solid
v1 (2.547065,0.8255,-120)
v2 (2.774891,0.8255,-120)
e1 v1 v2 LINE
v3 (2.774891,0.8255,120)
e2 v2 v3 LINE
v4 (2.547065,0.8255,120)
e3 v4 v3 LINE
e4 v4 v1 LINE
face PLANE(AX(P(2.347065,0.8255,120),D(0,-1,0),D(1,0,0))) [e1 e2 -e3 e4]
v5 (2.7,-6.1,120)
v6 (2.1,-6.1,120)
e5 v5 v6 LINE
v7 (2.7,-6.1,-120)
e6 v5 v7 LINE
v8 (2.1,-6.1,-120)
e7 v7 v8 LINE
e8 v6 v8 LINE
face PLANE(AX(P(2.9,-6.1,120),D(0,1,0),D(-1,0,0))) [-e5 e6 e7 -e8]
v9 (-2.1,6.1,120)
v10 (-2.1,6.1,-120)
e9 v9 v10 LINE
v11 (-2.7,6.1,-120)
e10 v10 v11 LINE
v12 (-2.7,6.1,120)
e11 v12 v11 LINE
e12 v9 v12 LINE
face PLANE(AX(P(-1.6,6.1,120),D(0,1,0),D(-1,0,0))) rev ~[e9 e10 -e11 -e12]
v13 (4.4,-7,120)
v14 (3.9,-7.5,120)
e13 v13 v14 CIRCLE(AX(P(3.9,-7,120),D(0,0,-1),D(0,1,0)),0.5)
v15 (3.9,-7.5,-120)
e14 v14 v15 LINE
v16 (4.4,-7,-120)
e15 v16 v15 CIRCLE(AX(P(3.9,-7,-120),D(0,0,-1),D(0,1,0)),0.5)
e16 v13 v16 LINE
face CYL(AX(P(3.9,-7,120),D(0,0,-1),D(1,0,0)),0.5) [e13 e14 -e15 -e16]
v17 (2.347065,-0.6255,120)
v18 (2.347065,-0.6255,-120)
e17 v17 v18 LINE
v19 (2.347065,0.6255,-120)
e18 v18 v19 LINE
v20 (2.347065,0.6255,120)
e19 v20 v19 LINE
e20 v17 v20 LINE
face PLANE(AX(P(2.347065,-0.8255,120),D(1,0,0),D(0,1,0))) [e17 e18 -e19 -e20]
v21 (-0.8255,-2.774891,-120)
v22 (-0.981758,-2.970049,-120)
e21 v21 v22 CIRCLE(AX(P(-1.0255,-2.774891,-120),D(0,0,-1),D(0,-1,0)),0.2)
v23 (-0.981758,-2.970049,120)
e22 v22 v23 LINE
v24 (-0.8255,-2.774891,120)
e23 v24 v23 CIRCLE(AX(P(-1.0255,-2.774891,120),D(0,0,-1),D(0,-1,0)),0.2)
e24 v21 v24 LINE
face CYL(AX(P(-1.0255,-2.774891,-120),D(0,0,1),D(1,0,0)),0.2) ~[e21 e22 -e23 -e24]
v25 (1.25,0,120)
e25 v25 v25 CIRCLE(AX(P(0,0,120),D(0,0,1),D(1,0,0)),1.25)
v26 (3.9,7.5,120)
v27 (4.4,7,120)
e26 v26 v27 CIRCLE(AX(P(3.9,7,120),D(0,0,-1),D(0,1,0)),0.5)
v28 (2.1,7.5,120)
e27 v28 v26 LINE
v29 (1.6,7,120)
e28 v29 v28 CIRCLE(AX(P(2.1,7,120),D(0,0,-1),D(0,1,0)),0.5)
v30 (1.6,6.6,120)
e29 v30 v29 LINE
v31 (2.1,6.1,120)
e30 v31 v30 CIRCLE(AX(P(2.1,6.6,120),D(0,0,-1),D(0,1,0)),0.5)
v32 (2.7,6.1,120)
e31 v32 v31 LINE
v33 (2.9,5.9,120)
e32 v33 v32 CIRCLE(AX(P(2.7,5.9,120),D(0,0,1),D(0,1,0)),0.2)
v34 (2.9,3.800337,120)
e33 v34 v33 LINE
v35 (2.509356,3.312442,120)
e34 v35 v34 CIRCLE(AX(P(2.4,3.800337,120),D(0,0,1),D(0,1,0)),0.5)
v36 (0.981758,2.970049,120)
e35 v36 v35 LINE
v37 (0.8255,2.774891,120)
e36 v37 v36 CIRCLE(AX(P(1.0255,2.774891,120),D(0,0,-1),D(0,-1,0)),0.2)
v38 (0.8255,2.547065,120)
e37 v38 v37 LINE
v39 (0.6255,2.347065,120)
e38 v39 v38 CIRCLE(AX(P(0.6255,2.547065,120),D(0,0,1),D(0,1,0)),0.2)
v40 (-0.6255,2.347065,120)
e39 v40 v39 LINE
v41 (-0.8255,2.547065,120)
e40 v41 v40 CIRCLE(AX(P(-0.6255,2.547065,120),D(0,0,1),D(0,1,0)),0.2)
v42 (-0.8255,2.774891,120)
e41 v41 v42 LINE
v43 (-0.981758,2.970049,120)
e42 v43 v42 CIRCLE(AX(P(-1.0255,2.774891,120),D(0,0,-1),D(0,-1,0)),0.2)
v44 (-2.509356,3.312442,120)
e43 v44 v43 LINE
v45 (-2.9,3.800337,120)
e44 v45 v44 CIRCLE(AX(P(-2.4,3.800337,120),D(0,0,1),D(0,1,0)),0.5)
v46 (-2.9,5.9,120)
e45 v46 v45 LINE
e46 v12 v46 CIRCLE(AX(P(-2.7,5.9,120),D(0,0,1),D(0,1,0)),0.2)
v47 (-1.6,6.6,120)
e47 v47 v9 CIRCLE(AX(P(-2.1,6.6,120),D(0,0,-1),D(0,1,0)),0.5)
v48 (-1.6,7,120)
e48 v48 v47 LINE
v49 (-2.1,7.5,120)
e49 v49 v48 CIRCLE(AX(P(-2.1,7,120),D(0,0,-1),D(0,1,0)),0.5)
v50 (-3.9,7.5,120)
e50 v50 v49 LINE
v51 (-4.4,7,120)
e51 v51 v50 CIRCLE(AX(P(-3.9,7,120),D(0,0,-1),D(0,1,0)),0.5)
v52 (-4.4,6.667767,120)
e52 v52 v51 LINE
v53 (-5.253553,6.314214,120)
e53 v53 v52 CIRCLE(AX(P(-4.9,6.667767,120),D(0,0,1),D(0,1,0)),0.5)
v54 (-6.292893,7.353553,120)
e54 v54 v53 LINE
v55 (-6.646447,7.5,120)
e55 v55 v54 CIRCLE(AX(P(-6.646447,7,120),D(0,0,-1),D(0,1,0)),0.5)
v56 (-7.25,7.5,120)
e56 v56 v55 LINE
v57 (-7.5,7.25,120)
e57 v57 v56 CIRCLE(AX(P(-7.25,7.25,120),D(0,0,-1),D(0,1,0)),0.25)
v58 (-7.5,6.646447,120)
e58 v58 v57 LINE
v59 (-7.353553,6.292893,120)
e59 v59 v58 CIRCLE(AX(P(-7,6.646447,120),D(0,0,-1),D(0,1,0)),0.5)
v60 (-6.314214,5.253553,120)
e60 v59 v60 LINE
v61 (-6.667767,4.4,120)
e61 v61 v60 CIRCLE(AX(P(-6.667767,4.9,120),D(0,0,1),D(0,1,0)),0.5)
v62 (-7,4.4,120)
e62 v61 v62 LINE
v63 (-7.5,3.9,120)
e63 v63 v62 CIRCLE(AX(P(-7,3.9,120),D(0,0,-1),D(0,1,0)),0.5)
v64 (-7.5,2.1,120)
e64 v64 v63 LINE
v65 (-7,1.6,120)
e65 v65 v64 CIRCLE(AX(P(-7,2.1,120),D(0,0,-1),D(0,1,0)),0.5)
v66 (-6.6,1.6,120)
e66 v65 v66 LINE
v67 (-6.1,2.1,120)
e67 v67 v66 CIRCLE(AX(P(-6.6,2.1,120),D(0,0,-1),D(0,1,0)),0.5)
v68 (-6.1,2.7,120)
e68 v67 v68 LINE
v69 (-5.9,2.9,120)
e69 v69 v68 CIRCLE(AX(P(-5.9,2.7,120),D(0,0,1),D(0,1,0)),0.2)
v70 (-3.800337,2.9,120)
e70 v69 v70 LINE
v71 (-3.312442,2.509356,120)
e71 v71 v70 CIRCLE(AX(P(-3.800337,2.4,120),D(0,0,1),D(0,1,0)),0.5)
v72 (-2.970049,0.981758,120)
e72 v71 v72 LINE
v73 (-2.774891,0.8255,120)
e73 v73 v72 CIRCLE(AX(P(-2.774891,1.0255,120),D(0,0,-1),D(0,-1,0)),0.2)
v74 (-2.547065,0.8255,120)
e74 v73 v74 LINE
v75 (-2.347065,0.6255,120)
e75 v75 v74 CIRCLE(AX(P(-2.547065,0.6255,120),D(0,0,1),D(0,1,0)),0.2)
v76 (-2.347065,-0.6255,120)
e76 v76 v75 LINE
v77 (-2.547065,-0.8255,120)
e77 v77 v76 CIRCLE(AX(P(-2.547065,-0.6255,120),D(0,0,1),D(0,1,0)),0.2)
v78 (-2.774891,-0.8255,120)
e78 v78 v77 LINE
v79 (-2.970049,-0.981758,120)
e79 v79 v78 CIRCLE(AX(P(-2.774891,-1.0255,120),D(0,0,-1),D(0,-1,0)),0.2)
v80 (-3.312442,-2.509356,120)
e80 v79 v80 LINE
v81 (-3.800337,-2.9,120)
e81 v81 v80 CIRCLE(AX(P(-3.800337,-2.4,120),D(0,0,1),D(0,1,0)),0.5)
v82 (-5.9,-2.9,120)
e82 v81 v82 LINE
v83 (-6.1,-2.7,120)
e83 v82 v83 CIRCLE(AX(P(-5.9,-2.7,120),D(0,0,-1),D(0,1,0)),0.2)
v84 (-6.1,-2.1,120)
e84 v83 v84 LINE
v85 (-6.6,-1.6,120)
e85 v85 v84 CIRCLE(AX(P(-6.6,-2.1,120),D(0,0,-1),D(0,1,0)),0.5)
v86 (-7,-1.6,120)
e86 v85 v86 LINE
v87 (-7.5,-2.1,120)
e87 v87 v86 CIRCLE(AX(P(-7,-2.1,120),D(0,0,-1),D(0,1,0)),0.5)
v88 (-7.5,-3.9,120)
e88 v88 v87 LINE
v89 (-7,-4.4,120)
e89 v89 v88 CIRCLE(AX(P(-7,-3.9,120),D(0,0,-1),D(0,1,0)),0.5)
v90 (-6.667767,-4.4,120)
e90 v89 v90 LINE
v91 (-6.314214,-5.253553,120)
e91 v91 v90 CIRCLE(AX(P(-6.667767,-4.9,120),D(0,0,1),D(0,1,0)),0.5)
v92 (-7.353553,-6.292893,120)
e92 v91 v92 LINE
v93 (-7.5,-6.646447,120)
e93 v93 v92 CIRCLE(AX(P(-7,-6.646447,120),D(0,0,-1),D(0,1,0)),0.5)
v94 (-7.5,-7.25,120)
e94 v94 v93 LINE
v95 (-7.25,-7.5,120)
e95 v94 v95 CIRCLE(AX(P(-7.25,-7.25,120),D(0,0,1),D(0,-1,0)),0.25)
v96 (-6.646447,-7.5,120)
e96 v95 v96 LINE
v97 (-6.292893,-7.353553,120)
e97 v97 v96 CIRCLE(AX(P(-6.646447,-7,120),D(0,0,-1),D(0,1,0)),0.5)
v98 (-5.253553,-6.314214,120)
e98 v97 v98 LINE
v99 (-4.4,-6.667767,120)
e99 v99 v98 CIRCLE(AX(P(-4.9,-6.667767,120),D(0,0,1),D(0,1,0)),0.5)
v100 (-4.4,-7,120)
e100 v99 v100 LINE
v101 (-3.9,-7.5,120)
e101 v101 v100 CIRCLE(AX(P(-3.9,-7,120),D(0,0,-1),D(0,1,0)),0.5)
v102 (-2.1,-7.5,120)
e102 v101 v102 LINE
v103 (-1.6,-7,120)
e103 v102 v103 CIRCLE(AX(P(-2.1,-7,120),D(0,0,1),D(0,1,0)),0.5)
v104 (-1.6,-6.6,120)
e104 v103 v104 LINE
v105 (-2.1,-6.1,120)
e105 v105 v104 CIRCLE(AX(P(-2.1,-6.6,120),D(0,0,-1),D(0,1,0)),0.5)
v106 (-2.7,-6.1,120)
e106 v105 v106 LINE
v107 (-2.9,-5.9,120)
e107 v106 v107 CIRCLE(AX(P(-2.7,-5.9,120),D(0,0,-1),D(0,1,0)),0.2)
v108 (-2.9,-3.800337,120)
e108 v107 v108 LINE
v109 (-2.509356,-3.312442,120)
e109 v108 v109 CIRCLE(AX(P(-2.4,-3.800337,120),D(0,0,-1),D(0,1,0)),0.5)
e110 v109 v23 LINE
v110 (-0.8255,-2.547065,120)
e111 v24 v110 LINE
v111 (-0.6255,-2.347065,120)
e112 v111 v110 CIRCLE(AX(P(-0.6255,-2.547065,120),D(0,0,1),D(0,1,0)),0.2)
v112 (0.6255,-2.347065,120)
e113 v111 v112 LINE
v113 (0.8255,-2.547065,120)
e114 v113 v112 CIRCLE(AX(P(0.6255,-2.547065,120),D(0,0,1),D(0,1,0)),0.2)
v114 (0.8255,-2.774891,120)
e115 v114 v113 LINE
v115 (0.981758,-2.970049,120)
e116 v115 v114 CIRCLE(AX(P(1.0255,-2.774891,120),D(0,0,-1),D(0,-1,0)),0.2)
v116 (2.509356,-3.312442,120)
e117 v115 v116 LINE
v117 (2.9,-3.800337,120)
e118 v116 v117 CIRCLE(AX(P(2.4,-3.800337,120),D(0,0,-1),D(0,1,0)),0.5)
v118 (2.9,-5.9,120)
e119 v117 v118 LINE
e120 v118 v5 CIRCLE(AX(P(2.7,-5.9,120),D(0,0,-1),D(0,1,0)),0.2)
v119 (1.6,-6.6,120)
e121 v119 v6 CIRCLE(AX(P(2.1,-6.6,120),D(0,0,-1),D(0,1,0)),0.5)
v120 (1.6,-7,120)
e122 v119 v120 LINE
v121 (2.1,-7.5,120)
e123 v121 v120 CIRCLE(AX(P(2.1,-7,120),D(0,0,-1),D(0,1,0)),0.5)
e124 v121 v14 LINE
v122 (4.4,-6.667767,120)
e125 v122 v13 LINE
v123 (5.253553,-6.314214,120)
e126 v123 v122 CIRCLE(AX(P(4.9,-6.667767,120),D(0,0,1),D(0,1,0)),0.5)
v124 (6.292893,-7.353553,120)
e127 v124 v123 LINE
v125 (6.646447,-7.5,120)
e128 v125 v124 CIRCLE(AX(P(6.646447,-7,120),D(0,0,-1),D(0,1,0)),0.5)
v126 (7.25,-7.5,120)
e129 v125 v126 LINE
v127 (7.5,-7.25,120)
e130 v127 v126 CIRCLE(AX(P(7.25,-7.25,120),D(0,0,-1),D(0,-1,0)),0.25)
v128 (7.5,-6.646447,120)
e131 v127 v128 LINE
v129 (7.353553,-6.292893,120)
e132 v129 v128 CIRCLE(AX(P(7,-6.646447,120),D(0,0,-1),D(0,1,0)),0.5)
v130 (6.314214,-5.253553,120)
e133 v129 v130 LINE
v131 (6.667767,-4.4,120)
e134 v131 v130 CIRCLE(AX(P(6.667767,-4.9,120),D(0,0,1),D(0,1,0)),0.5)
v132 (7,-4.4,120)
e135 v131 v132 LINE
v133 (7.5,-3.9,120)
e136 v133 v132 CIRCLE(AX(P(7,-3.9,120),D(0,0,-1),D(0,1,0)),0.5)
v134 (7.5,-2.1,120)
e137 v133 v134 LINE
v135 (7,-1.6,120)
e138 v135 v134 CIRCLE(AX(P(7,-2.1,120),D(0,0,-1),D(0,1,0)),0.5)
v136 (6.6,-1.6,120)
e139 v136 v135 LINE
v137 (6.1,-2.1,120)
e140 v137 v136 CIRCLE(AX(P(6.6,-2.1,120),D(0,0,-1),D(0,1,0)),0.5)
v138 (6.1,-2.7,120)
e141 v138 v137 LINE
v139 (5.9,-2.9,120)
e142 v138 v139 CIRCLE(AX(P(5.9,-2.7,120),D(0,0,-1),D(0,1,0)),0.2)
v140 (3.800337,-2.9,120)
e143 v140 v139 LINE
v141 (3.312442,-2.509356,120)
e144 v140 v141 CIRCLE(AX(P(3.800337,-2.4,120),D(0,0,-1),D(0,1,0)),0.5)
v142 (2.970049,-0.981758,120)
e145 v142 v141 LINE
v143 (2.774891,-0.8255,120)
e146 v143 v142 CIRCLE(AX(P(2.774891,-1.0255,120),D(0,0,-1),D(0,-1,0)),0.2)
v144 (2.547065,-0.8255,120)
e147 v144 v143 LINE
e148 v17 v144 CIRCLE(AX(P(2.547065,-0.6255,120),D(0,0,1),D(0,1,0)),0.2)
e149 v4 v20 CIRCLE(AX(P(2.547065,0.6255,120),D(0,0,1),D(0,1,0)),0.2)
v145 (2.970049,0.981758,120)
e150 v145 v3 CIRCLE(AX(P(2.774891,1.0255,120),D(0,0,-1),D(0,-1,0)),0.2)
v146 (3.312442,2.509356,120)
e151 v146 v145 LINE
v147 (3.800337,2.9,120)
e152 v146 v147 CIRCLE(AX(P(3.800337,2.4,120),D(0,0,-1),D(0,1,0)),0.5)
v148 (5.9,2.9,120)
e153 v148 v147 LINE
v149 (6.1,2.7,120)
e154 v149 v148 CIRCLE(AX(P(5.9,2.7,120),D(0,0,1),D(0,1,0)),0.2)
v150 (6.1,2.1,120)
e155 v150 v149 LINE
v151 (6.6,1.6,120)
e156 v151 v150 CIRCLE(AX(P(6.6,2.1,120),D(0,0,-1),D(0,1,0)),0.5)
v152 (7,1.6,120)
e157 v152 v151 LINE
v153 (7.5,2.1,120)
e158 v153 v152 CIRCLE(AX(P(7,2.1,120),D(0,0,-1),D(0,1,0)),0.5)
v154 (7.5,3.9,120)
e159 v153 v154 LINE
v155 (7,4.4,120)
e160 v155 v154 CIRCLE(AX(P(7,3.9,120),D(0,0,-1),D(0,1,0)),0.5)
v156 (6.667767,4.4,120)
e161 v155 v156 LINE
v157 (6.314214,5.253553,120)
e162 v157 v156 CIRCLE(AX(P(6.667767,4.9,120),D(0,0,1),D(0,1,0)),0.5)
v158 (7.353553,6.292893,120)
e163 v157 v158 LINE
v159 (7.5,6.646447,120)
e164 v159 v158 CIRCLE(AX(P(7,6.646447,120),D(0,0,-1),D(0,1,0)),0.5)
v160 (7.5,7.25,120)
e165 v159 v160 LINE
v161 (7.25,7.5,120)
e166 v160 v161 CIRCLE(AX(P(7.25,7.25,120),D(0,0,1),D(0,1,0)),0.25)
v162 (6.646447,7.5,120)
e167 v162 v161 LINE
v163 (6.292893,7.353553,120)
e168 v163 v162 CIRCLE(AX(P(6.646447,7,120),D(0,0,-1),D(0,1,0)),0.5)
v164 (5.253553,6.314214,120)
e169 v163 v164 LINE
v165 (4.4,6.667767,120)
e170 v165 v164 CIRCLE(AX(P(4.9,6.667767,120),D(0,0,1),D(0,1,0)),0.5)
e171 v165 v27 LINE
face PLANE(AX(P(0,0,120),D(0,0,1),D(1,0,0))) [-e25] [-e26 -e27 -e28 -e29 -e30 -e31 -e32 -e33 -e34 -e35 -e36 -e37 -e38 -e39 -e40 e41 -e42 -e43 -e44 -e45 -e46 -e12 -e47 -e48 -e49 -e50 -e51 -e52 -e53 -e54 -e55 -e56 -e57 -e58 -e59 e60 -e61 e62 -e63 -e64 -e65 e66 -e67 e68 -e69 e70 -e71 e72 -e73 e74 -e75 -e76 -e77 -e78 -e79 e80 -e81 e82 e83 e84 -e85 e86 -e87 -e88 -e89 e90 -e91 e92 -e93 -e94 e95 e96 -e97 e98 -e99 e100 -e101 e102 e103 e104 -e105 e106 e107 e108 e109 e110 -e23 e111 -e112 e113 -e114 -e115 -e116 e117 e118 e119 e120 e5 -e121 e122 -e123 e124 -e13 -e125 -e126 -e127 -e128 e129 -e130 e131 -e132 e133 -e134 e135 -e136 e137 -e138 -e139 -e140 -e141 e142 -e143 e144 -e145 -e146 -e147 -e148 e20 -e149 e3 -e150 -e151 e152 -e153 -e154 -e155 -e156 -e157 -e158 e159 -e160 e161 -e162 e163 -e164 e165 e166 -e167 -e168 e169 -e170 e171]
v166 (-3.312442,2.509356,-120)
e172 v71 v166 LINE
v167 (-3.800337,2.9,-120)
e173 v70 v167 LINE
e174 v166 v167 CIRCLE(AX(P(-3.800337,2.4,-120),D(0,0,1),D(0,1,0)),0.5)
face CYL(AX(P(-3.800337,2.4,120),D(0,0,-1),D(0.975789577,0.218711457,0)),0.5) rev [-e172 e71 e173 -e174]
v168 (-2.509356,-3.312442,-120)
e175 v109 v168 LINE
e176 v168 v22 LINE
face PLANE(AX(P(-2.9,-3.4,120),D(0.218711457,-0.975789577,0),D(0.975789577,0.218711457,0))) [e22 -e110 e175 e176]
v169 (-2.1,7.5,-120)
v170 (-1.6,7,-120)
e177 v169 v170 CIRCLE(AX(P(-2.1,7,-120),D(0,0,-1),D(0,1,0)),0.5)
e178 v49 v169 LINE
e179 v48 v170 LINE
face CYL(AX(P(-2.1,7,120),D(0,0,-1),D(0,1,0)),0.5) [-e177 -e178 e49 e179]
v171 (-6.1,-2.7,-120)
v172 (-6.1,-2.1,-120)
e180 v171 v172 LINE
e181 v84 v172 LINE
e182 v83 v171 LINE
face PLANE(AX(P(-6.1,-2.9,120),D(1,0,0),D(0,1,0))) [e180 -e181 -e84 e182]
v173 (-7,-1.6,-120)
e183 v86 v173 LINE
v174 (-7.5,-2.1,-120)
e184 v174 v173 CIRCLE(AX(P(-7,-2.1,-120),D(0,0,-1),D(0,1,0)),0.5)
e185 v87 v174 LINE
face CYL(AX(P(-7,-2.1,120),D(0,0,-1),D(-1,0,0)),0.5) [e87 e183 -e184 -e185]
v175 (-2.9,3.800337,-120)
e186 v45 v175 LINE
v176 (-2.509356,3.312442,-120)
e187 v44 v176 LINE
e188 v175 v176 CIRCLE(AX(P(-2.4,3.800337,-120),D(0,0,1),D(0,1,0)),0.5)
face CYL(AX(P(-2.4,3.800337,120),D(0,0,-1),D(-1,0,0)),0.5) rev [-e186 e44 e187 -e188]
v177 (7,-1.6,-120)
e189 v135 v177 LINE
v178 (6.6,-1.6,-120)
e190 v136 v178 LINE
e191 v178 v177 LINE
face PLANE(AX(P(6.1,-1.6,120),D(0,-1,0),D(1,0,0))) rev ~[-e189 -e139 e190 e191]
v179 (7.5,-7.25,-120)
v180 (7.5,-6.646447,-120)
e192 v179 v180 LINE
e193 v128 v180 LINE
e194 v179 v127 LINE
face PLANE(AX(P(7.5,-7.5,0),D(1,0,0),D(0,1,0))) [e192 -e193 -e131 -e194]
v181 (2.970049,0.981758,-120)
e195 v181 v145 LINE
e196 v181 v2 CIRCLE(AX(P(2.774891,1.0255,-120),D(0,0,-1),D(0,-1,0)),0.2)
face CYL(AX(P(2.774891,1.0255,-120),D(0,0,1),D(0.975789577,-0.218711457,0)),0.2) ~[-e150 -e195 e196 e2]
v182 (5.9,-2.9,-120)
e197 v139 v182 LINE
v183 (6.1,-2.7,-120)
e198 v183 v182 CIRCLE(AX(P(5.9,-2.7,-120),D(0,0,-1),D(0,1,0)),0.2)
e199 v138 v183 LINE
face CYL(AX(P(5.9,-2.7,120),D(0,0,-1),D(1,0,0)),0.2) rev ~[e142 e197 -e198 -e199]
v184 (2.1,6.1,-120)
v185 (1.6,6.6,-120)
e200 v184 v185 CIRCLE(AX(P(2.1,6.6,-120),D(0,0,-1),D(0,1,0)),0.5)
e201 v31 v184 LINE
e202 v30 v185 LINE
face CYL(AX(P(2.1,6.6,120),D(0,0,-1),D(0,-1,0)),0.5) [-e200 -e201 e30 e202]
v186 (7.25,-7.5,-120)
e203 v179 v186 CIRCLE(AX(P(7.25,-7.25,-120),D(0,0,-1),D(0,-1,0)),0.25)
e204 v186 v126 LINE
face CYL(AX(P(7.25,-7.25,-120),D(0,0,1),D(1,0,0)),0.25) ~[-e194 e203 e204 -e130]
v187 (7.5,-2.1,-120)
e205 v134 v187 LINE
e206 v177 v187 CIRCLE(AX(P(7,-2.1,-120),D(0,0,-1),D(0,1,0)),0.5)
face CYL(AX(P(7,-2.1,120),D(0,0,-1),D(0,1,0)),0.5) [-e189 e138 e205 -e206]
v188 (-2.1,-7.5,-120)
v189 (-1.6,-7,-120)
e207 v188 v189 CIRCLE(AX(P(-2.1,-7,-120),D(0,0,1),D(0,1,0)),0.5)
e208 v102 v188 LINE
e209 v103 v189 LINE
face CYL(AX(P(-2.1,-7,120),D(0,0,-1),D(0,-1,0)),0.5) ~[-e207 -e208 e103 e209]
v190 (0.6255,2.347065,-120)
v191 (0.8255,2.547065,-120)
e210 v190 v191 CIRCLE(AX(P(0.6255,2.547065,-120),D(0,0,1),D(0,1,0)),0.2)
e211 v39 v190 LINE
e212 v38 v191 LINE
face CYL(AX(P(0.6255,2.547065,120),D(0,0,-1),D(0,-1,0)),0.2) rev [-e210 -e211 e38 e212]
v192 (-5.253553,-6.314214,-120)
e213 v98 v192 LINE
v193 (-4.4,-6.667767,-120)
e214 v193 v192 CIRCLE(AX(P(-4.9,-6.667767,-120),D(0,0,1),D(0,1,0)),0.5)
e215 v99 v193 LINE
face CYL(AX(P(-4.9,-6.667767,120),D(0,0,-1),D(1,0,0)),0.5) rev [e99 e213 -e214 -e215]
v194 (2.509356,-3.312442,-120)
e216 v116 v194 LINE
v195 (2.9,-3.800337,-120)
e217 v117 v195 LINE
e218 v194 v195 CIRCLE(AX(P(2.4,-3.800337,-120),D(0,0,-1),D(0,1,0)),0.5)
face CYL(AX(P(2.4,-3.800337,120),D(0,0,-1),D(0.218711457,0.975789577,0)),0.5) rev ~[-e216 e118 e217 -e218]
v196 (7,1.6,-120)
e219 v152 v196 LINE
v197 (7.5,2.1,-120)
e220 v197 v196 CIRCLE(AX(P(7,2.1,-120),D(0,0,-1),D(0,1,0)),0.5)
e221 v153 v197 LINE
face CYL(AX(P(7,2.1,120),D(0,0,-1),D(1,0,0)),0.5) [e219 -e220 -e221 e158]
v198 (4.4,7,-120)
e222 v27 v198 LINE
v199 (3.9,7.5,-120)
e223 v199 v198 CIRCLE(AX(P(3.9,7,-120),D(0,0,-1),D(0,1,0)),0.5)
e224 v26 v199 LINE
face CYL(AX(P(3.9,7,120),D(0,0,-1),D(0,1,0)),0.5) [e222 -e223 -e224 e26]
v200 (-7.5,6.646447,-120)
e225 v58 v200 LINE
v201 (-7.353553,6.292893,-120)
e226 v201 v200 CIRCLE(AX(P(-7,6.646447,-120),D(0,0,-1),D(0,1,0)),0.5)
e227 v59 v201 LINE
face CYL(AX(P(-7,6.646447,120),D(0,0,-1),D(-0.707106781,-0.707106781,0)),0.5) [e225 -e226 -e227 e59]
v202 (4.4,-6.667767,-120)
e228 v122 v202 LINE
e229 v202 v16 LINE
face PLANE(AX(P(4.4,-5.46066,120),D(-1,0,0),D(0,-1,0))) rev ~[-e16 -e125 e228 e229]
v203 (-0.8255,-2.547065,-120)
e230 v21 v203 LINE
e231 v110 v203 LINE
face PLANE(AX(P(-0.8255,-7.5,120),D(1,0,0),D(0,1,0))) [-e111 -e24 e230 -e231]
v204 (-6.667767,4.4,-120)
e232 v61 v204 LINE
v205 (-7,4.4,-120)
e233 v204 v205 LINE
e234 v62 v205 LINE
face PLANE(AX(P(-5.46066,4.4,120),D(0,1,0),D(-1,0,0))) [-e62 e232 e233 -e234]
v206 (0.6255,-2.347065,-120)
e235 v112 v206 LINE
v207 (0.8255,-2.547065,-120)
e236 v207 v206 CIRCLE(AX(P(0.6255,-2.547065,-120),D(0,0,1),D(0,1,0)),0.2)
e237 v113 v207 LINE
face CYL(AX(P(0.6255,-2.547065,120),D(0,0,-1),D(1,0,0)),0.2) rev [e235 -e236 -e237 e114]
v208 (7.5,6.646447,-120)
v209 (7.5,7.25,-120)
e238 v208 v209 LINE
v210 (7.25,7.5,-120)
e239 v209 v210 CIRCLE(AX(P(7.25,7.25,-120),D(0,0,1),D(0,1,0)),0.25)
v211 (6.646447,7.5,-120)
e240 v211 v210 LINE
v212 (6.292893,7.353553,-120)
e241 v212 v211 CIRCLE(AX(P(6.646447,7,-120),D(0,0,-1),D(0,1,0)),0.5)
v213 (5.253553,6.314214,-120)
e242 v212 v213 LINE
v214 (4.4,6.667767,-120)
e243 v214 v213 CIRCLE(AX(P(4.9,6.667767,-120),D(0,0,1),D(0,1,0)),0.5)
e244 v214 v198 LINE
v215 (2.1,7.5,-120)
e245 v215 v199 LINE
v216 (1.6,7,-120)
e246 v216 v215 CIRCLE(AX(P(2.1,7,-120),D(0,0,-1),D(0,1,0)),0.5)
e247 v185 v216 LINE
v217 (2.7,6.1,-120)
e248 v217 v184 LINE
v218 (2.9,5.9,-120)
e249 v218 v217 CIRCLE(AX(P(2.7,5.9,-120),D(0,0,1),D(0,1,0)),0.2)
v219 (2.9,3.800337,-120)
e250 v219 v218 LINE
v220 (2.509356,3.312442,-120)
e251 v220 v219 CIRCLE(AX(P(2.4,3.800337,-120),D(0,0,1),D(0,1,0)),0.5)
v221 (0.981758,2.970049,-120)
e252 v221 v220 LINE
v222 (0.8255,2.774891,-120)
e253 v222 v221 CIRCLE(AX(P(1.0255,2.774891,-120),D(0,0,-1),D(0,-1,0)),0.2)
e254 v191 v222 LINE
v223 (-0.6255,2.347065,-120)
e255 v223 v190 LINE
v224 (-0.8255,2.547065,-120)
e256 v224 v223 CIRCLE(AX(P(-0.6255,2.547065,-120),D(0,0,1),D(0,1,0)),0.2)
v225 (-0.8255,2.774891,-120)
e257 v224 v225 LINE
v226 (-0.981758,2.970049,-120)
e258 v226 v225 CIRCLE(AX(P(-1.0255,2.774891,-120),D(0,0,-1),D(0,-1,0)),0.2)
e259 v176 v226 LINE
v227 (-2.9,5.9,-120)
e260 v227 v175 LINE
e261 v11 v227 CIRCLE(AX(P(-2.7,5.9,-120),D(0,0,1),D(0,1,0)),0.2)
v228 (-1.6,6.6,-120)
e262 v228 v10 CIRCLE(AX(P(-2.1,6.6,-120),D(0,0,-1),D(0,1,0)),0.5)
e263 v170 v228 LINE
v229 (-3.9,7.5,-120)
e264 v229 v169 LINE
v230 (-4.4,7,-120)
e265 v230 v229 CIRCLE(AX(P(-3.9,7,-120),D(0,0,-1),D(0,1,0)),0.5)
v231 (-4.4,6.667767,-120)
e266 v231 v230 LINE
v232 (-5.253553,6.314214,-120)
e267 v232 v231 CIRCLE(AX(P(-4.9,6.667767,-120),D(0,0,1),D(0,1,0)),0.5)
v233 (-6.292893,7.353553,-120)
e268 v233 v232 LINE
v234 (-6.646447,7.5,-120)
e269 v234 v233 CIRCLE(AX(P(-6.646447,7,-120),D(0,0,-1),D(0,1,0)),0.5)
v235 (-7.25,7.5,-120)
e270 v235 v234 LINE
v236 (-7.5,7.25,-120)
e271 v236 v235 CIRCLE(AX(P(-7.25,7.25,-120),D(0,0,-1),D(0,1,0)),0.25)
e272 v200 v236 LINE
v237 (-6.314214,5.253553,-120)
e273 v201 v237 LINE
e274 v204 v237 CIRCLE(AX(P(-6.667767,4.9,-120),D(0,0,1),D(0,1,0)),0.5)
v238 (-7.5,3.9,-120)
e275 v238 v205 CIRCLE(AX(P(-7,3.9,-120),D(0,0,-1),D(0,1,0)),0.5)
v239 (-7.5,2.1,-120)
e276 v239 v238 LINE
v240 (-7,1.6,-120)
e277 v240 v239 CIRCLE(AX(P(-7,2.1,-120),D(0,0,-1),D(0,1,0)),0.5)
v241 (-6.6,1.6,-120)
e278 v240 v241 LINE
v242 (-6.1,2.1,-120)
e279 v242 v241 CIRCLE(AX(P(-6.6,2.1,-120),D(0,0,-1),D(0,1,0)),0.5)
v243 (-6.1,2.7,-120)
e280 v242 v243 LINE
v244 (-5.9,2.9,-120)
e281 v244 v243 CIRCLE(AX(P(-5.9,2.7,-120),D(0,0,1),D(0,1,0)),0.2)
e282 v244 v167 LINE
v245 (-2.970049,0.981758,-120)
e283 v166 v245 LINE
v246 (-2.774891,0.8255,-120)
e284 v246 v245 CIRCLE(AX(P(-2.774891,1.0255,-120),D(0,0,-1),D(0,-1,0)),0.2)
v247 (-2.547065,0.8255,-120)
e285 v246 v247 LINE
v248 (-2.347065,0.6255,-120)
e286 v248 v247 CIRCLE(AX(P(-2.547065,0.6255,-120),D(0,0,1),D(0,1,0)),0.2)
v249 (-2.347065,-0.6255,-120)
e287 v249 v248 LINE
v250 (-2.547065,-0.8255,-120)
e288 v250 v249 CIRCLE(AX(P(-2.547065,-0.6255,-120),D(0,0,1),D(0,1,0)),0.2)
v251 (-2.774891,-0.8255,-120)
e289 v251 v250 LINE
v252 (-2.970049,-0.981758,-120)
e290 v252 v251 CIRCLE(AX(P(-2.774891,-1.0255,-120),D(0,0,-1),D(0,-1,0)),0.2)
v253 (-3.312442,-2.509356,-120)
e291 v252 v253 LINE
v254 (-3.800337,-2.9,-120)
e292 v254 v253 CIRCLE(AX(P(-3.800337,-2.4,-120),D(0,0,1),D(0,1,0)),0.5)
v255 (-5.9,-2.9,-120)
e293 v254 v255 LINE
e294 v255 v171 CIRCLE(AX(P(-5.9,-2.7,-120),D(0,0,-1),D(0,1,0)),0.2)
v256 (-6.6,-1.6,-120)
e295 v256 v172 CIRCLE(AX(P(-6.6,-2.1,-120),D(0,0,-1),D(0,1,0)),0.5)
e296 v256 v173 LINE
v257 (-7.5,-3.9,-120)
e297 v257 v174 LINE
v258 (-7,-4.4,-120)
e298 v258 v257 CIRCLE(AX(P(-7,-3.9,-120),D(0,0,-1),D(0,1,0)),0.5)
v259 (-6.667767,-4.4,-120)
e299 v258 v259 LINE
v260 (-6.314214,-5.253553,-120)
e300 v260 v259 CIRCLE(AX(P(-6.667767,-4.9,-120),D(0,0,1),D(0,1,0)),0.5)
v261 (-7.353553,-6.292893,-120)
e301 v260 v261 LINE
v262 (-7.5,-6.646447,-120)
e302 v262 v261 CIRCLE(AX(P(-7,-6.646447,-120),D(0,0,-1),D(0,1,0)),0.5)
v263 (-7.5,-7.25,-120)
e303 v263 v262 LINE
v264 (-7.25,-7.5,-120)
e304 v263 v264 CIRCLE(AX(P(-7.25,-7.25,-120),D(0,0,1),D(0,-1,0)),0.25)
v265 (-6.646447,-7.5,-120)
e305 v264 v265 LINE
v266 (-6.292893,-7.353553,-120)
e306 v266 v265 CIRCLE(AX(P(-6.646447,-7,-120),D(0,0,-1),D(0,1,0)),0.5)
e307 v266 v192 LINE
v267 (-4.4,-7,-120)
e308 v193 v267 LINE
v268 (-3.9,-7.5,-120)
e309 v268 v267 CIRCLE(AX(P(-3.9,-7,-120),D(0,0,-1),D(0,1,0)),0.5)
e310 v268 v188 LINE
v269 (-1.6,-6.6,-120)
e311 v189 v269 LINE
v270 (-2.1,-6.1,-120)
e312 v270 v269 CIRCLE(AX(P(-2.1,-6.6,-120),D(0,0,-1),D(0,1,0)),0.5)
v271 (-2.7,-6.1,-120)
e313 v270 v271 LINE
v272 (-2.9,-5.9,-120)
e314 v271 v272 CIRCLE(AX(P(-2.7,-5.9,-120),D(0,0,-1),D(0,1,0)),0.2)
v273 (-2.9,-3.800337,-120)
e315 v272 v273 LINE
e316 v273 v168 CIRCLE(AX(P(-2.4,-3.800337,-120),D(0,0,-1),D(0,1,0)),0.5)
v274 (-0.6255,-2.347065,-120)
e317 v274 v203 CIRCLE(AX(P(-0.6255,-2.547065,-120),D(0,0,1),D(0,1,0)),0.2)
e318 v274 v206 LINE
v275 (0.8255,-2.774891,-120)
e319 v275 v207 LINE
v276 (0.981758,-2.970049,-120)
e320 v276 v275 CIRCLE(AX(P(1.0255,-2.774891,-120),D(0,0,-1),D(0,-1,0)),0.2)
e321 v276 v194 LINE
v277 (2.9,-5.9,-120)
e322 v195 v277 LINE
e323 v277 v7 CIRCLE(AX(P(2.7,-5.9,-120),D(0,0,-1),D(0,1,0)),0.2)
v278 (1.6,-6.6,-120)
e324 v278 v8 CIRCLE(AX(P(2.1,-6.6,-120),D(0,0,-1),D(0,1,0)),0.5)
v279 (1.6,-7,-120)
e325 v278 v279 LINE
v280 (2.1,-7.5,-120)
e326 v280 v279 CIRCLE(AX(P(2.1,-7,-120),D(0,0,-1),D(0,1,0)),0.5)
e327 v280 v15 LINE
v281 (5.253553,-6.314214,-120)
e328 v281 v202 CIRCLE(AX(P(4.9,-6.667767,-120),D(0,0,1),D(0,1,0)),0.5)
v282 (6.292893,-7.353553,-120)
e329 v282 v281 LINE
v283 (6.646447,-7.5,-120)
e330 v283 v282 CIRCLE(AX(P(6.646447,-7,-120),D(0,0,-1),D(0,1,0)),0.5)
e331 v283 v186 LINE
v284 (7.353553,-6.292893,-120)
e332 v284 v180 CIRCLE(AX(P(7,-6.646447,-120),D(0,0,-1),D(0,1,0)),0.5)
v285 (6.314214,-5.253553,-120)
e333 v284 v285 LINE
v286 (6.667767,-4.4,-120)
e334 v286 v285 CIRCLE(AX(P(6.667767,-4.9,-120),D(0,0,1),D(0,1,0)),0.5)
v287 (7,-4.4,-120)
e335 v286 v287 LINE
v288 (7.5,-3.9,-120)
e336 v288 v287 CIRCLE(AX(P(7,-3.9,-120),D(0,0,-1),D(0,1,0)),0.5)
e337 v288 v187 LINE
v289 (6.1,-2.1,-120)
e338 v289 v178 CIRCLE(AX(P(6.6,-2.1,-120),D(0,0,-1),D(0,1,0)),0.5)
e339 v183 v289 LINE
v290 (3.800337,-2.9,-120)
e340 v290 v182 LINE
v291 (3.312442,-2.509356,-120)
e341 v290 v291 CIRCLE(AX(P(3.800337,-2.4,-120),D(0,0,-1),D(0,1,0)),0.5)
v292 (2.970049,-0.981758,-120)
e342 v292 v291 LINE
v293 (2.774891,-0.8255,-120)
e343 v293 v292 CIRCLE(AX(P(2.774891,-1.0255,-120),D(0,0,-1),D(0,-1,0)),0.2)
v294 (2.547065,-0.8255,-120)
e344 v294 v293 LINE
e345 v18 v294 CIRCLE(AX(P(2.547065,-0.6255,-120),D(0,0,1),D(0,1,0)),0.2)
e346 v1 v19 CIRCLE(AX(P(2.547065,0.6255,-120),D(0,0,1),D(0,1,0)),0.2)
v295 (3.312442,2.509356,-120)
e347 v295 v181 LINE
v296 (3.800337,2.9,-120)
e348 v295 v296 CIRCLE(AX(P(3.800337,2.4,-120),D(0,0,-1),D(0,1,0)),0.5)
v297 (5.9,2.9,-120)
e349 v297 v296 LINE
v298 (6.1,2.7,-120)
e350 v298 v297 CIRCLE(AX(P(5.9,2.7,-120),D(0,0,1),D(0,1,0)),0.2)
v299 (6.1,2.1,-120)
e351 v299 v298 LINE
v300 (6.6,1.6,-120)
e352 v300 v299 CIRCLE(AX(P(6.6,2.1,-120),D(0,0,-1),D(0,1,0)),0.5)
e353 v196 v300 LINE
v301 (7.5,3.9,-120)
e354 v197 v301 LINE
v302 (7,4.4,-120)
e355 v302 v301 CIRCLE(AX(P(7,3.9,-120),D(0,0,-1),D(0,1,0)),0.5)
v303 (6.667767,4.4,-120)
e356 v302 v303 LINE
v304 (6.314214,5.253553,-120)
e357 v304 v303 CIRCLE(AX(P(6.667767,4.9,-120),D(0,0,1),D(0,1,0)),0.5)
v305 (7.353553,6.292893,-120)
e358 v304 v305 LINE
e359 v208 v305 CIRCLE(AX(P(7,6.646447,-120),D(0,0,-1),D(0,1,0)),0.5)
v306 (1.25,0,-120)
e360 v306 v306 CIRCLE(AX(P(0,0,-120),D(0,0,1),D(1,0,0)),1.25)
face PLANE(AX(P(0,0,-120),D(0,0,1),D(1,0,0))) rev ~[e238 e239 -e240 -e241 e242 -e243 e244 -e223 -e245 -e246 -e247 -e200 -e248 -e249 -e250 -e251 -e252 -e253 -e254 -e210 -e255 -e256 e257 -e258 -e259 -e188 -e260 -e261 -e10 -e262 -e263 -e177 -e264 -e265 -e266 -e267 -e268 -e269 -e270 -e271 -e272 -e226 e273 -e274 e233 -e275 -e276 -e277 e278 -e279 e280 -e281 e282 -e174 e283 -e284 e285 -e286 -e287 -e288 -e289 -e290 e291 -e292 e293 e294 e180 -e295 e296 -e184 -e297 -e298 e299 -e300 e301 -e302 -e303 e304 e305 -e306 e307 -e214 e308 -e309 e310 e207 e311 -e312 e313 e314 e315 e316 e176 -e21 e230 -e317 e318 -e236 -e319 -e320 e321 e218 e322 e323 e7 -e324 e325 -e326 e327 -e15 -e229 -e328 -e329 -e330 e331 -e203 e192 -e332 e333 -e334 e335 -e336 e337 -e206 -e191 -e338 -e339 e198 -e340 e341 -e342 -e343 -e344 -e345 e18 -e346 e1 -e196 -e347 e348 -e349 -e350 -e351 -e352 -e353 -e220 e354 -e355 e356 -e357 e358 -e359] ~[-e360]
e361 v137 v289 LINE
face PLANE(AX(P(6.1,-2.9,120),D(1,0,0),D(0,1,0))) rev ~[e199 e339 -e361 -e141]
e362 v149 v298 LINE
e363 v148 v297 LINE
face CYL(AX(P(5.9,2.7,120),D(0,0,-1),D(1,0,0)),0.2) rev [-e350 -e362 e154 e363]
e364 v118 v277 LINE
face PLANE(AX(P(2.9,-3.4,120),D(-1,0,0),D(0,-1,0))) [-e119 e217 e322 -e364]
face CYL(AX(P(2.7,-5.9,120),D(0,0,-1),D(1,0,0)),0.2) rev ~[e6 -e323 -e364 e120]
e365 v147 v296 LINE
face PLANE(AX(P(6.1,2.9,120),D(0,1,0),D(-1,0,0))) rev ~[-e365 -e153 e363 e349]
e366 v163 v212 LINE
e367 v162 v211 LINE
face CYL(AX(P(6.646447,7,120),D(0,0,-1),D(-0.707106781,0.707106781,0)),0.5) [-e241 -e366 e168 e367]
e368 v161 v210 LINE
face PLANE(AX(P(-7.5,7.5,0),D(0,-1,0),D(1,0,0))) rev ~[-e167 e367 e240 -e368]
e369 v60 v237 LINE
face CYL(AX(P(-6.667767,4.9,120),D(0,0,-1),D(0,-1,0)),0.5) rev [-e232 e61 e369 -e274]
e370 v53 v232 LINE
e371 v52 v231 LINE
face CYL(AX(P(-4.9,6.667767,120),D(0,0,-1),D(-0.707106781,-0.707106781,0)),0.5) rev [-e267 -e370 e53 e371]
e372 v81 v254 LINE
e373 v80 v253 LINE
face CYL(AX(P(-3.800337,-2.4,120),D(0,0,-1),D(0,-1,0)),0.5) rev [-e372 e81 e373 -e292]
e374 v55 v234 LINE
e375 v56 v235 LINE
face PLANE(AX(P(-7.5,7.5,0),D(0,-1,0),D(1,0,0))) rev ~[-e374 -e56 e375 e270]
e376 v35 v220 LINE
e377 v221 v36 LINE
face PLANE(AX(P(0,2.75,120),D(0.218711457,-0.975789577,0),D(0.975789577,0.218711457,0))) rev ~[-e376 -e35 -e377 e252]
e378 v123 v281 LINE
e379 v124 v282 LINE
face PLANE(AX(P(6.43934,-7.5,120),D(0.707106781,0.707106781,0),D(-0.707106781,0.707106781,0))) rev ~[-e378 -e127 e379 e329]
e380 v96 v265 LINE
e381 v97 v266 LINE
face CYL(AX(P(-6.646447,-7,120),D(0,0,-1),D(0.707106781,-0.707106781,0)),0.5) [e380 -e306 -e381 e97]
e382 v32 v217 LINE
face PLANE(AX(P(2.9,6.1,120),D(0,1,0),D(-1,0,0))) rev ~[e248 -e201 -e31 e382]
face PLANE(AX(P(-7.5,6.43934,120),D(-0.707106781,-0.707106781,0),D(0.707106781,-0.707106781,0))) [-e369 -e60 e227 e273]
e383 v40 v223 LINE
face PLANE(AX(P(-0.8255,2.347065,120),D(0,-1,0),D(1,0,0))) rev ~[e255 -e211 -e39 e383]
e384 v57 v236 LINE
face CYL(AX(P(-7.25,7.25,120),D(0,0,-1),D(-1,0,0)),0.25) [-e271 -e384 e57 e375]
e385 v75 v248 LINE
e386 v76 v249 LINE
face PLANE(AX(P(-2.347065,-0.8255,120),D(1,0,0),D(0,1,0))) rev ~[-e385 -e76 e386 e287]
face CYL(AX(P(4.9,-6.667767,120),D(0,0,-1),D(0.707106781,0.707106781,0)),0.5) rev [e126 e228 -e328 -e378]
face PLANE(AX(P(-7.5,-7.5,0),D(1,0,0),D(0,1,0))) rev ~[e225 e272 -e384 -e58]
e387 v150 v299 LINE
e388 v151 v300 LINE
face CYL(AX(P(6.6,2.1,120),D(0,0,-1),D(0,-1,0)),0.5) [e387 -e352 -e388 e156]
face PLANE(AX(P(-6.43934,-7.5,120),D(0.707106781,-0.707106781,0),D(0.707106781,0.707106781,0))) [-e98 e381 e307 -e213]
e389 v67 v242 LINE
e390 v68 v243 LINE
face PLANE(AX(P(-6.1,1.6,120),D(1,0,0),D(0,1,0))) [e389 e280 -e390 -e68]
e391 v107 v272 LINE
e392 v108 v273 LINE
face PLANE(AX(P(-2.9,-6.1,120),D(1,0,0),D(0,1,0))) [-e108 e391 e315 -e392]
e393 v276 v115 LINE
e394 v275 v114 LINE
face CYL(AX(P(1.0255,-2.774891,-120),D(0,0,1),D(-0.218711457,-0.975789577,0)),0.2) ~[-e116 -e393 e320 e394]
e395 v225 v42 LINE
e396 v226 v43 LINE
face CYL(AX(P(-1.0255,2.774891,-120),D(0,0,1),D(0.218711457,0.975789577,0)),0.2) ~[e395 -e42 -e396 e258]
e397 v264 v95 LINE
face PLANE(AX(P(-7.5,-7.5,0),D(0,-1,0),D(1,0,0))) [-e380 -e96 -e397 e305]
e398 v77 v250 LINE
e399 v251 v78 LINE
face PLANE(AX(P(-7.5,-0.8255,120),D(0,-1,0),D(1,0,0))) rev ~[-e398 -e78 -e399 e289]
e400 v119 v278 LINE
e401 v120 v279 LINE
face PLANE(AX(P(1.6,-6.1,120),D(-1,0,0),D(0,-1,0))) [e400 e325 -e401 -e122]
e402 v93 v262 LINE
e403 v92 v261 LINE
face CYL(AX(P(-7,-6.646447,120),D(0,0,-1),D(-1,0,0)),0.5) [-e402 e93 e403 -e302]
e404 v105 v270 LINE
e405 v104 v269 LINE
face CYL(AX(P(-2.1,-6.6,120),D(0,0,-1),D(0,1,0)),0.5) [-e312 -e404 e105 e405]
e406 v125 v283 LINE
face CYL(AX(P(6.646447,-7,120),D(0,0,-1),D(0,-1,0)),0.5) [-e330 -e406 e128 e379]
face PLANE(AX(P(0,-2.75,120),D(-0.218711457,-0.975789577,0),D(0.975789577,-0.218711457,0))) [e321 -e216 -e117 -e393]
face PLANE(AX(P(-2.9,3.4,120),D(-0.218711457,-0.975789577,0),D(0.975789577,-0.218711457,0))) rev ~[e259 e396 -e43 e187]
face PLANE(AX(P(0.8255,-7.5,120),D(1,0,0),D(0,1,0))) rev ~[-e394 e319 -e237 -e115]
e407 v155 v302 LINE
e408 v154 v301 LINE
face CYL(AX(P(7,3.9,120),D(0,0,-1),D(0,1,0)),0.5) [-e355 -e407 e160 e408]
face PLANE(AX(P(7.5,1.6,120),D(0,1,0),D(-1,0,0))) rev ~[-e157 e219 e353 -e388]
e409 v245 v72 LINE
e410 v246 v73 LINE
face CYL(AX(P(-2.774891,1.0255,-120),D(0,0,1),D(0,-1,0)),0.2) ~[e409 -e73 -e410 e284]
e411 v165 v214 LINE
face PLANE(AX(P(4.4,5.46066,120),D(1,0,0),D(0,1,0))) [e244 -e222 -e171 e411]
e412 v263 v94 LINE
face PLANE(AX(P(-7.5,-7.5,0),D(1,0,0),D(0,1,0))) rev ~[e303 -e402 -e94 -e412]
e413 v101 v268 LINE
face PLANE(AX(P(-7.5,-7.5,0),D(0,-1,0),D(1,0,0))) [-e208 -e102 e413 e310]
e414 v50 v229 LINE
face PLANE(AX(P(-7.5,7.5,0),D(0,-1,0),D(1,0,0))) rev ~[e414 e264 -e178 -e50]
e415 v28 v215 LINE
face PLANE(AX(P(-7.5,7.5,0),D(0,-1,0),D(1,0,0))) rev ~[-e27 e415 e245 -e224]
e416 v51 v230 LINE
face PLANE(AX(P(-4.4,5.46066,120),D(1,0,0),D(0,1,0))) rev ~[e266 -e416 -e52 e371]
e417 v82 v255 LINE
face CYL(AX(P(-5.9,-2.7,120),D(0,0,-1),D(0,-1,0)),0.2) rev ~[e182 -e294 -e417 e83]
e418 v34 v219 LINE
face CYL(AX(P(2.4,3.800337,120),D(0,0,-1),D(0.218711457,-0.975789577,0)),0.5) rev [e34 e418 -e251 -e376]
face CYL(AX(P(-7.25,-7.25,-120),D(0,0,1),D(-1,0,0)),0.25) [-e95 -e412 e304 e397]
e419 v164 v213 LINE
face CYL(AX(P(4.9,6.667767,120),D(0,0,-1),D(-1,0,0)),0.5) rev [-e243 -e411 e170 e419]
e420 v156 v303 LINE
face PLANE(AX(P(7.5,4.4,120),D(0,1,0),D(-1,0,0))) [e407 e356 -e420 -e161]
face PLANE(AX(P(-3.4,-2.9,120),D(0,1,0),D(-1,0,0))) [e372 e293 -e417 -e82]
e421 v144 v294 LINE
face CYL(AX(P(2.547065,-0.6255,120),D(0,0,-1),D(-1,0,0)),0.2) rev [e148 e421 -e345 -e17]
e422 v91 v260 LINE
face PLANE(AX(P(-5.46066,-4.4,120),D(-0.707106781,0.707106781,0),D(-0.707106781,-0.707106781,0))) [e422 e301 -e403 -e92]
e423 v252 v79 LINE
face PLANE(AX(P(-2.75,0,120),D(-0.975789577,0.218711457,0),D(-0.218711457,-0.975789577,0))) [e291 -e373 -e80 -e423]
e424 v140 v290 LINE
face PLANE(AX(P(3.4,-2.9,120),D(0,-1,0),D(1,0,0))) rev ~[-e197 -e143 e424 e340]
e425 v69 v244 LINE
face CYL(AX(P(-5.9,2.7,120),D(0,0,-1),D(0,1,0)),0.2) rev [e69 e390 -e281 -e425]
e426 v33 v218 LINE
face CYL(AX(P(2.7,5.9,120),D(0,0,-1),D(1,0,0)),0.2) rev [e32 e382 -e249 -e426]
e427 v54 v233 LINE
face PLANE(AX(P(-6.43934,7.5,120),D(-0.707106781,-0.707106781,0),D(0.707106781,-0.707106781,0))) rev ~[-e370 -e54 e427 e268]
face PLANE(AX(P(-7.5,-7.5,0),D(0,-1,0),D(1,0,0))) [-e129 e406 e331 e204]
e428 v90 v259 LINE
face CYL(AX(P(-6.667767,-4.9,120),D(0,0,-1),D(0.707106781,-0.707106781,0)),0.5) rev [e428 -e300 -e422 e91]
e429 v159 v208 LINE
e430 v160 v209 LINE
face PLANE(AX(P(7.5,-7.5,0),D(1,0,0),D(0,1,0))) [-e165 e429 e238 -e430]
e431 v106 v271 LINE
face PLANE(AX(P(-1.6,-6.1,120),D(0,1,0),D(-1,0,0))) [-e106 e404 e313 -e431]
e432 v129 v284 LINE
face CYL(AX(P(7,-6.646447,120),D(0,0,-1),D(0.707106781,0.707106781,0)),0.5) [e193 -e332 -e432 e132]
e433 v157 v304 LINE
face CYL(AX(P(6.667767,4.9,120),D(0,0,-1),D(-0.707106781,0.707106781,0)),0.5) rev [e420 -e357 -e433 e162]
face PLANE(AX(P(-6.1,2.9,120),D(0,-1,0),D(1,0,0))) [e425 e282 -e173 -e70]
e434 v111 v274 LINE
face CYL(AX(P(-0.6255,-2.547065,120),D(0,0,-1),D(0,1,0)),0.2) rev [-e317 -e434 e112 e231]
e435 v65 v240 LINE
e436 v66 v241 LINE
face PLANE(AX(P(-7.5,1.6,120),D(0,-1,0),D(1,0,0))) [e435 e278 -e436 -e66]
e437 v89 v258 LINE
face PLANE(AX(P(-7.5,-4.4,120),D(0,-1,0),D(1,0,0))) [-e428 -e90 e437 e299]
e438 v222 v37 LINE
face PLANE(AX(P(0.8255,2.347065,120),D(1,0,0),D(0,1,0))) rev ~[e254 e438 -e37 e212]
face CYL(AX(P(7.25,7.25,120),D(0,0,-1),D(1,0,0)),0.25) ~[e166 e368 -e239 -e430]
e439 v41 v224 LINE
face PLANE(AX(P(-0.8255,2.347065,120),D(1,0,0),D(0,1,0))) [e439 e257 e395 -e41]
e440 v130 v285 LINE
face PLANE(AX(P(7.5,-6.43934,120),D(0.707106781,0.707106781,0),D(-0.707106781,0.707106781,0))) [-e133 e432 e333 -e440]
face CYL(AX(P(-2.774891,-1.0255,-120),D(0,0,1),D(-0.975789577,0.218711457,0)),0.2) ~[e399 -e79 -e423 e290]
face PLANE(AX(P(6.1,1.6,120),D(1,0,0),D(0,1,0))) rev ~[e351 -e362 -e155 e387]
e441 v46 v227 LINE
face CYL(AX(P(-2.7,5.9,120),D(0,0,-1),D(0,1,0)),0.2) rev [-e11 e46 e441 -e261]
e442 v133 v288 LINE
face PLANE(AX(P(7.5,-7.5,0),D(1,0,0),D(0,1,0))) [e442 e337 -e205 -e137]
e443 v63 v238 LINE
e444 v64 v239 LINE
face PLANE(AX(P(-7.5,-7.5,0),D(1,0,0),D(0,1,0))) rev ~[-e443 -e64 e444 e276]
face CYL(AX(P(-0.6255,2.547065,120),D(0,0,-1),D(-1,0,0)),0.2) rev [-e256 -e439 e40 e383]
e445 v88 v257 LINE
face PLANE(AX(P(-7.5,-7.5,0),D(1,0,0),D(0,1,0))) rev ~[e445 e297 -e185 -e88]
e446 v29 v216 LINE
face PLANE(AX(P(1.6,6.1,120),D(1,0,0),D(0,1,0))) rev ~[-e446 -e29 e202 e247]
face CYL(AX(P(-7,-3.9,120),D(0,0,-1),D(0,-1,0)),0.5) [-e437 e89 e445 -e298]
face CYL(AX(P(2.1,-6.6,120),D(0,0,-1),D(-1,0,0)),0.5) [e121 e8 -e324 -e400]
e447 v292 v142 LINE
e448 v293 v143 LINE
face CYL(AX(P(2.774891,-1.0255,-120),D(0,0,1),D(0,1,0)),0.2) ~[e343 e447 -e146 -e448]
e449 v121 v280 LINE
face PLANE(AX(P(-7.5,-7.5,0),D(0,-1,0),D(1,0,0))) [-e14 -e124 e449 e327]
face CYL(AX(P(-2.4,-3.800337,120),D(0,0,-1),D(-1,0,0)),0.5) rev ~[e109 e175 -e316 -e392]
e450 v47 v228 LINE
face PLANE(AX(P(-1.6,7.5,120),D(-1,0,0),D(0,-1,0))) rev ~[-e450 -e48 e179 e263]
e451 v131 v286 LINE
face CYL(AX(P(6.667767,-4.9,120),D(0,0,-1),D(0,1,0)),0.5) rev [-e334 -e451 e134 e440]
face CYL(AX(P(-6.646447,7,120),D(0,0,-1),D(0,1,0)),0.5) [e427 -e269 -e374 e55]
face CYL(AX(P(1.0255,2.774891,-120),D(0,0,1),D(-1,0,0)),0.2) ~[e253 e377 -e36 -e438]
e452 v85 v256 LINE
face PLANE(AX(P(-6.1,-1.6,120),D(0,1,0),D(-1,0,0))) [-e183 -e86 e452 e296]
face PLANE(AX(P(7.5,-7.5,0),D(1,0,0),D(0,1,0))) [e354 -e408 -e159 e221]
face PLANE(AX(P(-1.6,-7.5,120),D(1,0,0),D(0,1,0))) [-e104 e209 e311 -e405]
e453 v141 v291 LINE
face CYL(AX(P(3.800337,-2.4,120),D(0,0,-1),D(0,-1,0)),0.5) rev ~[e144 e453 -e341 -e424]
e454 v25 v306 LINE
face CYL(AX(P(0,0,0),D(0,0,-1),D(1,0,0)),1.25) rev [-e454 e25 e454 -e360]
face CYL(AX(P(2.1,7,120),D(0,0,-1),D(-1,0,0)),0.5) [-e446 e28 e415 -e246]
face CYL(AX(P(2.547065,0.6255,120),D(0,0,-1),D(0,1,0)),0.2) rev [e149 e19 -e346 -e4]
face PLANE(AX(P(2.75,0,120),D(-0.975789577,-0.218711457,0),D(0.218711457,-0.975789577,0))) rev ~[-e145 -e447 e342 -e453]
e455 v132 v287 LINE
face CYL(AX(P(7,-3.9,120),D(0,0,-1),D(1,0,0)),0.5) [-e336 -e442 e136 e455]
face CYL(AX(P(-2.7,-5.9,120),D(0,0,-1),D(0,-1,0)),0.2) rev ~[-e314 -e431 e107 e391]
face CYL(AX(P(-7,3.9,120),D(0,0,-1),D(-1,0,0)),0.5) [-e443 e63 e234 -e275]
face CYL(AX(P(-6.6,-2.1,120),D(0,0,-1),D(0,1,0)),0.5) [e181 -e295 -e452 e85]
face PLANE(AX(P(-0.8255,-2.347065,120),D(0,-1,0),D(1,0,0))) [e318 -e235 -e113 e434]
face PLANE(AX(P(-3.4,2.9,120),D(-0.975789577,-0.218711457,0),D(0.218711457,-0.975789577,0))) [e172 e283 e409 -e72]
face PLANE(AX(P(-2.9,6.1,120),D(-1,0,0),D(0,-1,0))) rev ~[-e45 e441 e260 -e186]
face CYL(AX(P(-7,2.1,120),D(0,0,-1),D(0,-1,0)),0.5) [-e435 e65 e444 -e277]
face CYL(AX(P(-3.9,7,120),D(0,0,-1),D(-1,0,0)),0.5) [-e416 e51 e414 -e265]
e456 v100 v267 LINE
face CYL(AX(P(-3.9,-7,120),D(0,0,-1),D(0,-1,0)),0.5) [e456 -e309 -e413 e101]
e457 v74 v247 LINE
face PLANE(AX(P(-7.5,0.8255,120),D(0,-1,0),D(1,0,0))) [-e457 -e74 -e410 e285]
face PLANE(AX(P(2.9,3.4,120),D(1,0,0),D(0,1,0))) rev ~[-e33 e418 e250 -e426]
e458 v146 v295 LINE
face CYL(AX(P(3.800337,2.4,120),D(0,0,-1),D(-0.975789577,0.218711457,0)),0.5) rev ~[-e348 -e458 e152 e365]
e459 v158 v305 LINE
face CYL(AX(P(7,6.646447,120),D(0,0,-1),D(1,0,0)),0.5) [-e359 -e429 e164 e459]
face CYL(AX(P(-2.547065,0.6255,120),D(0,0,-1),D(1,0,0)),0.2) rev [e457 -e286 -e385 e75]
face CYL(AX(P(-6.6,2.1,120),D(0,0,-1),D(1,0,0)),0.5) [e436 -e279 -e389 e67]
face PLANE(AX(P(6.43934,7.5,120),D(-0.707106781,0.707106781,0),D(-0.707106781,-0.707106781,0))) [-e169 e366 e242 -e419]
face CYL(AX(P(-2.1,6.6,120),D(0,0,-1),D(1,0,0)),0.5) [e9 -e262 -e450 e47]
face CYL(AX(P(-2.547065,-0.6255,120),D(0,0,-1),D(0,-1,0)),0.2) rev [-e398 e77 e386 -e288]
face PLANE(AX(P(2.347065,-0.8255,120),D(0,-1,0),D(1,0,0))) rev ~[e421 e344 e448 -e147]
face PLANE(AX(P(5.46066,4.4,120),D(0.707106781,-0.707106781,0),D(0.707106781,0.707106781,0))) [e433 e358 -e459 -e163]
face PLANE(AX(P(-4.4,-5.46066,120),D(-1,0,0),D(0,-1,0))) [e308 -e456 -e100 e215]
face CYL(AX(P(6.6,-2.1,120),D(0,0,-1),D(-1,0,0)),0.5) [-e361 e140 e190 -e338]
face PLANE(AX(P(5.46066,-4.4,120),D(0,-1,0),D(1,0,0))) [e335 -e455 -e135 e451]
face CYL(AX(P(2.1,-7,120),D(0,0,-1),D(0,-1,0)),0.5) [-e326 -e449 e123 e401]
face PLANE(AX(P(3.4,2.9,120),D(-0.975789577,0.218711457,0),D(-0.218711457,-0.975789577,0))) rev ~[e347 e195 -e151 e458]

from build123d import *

# Parameters (mm, degrees)
SKETCH1_W           = 15
SKETCH1_H           = 15
SKETCH1_R           = 1.25
CHANGE_LENGTH_DEPTH = 120
FILLET1_R           = 0.25
CUT_EXTRUDE1_DEPTH  = 241.234260671
CUT_EXTRUDE3_DEPTH  = 241.234260671
FILLET3_R           = 0.5
FILLET4_R           = 0.5
FILLET5_R           = 3
FILLET6_R           = 0.2
CUT_EXTRUDE4_DEPTH  = 241.234260671
FILLET8_R           = 0.5
SKETCH6_W           = 5.1529354
SKETCH6_H           = 1.651
SKETCH6_W_2         = 1.651
SKETCH6_H_2         = 5.1529354
CUT_EXTRUDE5_DEPTH  = 241.234260671
FILLET10_R          = 0.2


with BuildPart() as part:
    # Sketch1 → Change length (new, symmetric)
    with BuildSketch(Plane.XY):
        Rectangle(SKETCH1_W, SKETCH1_H)
        Circle(SKETCH1_R, mode=Mode.SUBTRACT)
    extrude(amount=CHANGE_LENGTH_DEPTH, both=True)

    # Fillet1
    fillet1_edges = [part.edges().sort_by_distance(p)[0] for p in [
        (7.5, -7.5, 0),
        (-7.5, -7.5, 0),
        (-7.5, 7.5, 0),
        (7.5, 7.5, 0),
    ]]
    fillet(fillet1_edges, radius=FILLET1_R)

    # Sketch2 → Cut-Extrude1 (cut, through all)
    with BuildSketch(Plane.XY.offset(120)):
        Polygon((-7.5, 1.6), (-6.1, 1.6), (-6.1, 2.9), (-3.4, 2.9), (-3.4, -2.9), (-6.1, -2.9), (-6.1, -1.6), (-7.5, -1.6), align=None)
        Polygon((2.9, 6.1), (1.6, 6.1), (1.6, 7.5), (-1.6, 7.5), (-1.6, 6.1), (-2.9, 6.1), (-2.9, 3.4), (2.9, 3.4), align=None)
        Polygon((-1.6, -7.5), (-1.6, -6.1), (-2.9, -6.1), (-2.9, -3.4), (2.9, -3.4), (2.9, -6.1), (1.6, -6.1), (1.6, -7.5), align=None)
        Polygon((6.1, -2.9), (6.1, -1.6), (7.5, -1.6), (7.5, 1.6), (6.1, 1.6), (6.1, 2.9), (3.4, 2.9), (3.4, -2.9), align=None)
    extrude(amount=-CUT_EXTRUDE1_DEPTH, mode=Mode.SUBTRACT)

    # Sketch4 → Cut-Extrude3 (cut, through all)
    with BuildSketch(Plane.XY.offset(120)):
        Polygon((-3.4, 2.9), (-2.75, 0), (-3.4, -2.9), align=None)
        Polygon((-2.9, 3.4), (0, 2.75), (2.9, 3.4), align=None)
        Polygon((3.4, 2.9), (2.75, 0), (3.4, -2.9), align=None)
        Polygon((-2.9, -3.4), (0, -2.75), (2.9, -3.4), align=None)
    extrude(amount=-CUT_EXTRUDE3_DEPTH, mode=Mode.SUBTRACT)

    # Fillet3
    fillet3_edges = [part.edges().sort_by_distance(p)[0] for p in [
        (1.6, -7.5, 0),
        (-1.6, -7.5, 0),
        (-1.6, -6.1, 0),
        (1.6, -6.1, 0),
        (6.1, 1.6, 0),
        (7.5, 1.6, 0),
        (7.5, -1.6, 0),
        (6.1, -1.6, 0),
        (-7.5, -1.6, 0),
        (-7.5, 1.6, 0),
        (-6.1, 1.6, 0),
        (-6.1, -1.6, 0),
        (-1.6, 6.1, 0),
        (-1.6, 7.5, 0),
        (1.6, 7.5, 0),
        (1.6, 6.1, 0),
    ]]
    fillet(fillet3_edges, radius=FILLET3_R)

    # Fillet4
    fillet4_edges = [part.edges().sort_by_distance(p)[0] for p in [
        (-2.9, -3.4, 0),
        (2.9, -3.4, 0),
        (3.4, -2.9, 0),
        (3.4, 2.9, 0),
        (-3.4, 2.9, 0),
        (-3.4, -2.9, 0),
        (2.9, 3.4, 0),
        (-2.9, 3.4, 0),
    ]]
    fillet(fillet4_edges, radius=FILLET4_R)

    # Fillet5
    fillet5_edges = [part.edges().sort_by_distance(p)[0] for p in [
        (-2.75, 0, 0),
        (0, 2.75, 0),
        (2.75, 0, 0),
        (0, -2.75, 0),
    ]]
    fillet(fillet5_edges, radius=FILLET5_R)

    # Fillet6
    fillet6_edges = [part.edges().sort_by_distance(p)[0] for p in [
        (-2.9, -6.1, 0),
        (2.9, -6.1, 0),
        (6.1, -2.9, 0),
        (6.1, 2.9, 0),
        (-6.1, 2.9, 0),
        (-6.1, -2.9, 0),
        (2.9, 6.1, 0),
        (-2.9, 6.1, 0),
    ]]
    fillet(fillet6_edges, radius=FILLET6_R)

    # Sketch5 → Cut-Extrude4 (cut, through all)
    with BuildSketch(Plane.XY.offset(120)):
        Polygon((-7.5, 6.439339828), (-5.460660172, 4.4), (-7.5, 4.4), align=None)
        Polygon((-6.439339828, 7.5), (-4.4, 5.460660172), (-4.4, 7.5), align=None)
        Polygon((4.4, 7.5), (6.439339828, 7.5), (4.4, 5.460660172), align=None)
        Polygon((7.5, 6.439339828), (7.5, 4.4), (5.460660172, 4.4), align=None)
        Polygon((7.5, -6.439339828), (5.460660172, -4.4), (7.5, -4.4), align=None)
        Polygon((6.439339828, -7.5), (4.4, -5.460660172), (4.4, -7.5), align=None)
        Polygon((-4.4, -7.5), (-6.439339828, -7.5), (-4.4, -5.460660172), align=None)
        Polygon((-7.5, -6.439339828), (-7.5, -4.4), (-5.460660172, -4.4), align=None)
    extrude(amount=-CUT_EXTRUDE4_DEPTH, mode=Mode.SUBTRACT)

    # Fillet8
    fillet8_edges = [part.edges().sort_by_distance(p)[0] for p in [
        (-7.5, 4.4, 0),
        (-7.5, 6.439339828, 0),
        (-5.460660172, 4.4, 0),
        (7.5, -4.4, 0),
        (7.5, -6.439339828, 0),
        (5.460660172, -4.4, 0),
        (5.460660172, 4.4, 0),
        (7.5, 6.439339828, 0),
        (7.5, 4.4, 0),
        (-4.4, 7.5, 0),
        (-4.4, 5.460660172, 0),
        (-6.439339828, 7.5, 0),
        (-5.460660172, -4.4, 0),
        (-7.5, -6.439339828, 0),
        (-7.5, -4.4, 0),
        (4.4, 5.460660172, 0),
        (4.4, 7.5, 0),
        (6.439339828, 7.5, 0),
        (6.439339828, -7.5, 0),
        (4.4, -7.5, 0),
        (4.4, -5.460660172, 0),
        (-6.439339828, -7.5, 0),
        (-4.4, -5.460660172, 0),
        (-4.4, -7.5, 0),
    ]]
    fillet(fillet8_edges, radius=FILLET8_R)

    # Sketch6 → Cut-Extrude5 (cut, through all)
    with BuildSketch(Plane.XY.offset(120)):
        with Locations((4.9235323, 0)):
            Rectangle(SKETCH6_W, SKETCH6_H)
        with Locations((0, -4.9235323)):
            Rectangle(SKETCH6_W_2, SKETCH6_H_2)
        with Locations((-4.9235323, 0)):
            Rectangle(SKETCH6_W, SKETCH6_H)
        with Locations((0, 4.9235323)):
            Rectangle(SKETCH6_W_2, SKETCH6_H_2)
    extrude(amount=-CUT_EXTRUDE5_DEPTH, mode=Mode.SUBTRACT)

    # Fillet10
    fillet10_edges = [part.edges().sort_by_distance(p)[0] for p in [
        (0.8255, -2.935025862, 0),
        (-0.8255, -2.935025862, 0),
        (0.8255, -2.3470646, 0),
        (-0.8255, -2.3470646, 0),
        (2.935025862, 0.8255, 0),
        (2.935025862, -0.8255, 0),
        (2.3470646, 0.8255, 0),
        (2.3470646, -0.8255, 0),
        (-2.935025862, -0.8255, 0),
        (-2.935025862, 0.8255, 0),
        (-2.3470646, -0.8255, 0),
        (-2.3470646, 0.8255, 0),
        (-0.8255, 2.935025862, 0),
        (0.8255, 2.935025862, 0),
        (-0.8255, 2.3470646, 0),
        (0.8255, 2.3470646, 0),
    ]]
    fillet(fillet10_edges, radius=FILLET10_R)


solid = part.part
